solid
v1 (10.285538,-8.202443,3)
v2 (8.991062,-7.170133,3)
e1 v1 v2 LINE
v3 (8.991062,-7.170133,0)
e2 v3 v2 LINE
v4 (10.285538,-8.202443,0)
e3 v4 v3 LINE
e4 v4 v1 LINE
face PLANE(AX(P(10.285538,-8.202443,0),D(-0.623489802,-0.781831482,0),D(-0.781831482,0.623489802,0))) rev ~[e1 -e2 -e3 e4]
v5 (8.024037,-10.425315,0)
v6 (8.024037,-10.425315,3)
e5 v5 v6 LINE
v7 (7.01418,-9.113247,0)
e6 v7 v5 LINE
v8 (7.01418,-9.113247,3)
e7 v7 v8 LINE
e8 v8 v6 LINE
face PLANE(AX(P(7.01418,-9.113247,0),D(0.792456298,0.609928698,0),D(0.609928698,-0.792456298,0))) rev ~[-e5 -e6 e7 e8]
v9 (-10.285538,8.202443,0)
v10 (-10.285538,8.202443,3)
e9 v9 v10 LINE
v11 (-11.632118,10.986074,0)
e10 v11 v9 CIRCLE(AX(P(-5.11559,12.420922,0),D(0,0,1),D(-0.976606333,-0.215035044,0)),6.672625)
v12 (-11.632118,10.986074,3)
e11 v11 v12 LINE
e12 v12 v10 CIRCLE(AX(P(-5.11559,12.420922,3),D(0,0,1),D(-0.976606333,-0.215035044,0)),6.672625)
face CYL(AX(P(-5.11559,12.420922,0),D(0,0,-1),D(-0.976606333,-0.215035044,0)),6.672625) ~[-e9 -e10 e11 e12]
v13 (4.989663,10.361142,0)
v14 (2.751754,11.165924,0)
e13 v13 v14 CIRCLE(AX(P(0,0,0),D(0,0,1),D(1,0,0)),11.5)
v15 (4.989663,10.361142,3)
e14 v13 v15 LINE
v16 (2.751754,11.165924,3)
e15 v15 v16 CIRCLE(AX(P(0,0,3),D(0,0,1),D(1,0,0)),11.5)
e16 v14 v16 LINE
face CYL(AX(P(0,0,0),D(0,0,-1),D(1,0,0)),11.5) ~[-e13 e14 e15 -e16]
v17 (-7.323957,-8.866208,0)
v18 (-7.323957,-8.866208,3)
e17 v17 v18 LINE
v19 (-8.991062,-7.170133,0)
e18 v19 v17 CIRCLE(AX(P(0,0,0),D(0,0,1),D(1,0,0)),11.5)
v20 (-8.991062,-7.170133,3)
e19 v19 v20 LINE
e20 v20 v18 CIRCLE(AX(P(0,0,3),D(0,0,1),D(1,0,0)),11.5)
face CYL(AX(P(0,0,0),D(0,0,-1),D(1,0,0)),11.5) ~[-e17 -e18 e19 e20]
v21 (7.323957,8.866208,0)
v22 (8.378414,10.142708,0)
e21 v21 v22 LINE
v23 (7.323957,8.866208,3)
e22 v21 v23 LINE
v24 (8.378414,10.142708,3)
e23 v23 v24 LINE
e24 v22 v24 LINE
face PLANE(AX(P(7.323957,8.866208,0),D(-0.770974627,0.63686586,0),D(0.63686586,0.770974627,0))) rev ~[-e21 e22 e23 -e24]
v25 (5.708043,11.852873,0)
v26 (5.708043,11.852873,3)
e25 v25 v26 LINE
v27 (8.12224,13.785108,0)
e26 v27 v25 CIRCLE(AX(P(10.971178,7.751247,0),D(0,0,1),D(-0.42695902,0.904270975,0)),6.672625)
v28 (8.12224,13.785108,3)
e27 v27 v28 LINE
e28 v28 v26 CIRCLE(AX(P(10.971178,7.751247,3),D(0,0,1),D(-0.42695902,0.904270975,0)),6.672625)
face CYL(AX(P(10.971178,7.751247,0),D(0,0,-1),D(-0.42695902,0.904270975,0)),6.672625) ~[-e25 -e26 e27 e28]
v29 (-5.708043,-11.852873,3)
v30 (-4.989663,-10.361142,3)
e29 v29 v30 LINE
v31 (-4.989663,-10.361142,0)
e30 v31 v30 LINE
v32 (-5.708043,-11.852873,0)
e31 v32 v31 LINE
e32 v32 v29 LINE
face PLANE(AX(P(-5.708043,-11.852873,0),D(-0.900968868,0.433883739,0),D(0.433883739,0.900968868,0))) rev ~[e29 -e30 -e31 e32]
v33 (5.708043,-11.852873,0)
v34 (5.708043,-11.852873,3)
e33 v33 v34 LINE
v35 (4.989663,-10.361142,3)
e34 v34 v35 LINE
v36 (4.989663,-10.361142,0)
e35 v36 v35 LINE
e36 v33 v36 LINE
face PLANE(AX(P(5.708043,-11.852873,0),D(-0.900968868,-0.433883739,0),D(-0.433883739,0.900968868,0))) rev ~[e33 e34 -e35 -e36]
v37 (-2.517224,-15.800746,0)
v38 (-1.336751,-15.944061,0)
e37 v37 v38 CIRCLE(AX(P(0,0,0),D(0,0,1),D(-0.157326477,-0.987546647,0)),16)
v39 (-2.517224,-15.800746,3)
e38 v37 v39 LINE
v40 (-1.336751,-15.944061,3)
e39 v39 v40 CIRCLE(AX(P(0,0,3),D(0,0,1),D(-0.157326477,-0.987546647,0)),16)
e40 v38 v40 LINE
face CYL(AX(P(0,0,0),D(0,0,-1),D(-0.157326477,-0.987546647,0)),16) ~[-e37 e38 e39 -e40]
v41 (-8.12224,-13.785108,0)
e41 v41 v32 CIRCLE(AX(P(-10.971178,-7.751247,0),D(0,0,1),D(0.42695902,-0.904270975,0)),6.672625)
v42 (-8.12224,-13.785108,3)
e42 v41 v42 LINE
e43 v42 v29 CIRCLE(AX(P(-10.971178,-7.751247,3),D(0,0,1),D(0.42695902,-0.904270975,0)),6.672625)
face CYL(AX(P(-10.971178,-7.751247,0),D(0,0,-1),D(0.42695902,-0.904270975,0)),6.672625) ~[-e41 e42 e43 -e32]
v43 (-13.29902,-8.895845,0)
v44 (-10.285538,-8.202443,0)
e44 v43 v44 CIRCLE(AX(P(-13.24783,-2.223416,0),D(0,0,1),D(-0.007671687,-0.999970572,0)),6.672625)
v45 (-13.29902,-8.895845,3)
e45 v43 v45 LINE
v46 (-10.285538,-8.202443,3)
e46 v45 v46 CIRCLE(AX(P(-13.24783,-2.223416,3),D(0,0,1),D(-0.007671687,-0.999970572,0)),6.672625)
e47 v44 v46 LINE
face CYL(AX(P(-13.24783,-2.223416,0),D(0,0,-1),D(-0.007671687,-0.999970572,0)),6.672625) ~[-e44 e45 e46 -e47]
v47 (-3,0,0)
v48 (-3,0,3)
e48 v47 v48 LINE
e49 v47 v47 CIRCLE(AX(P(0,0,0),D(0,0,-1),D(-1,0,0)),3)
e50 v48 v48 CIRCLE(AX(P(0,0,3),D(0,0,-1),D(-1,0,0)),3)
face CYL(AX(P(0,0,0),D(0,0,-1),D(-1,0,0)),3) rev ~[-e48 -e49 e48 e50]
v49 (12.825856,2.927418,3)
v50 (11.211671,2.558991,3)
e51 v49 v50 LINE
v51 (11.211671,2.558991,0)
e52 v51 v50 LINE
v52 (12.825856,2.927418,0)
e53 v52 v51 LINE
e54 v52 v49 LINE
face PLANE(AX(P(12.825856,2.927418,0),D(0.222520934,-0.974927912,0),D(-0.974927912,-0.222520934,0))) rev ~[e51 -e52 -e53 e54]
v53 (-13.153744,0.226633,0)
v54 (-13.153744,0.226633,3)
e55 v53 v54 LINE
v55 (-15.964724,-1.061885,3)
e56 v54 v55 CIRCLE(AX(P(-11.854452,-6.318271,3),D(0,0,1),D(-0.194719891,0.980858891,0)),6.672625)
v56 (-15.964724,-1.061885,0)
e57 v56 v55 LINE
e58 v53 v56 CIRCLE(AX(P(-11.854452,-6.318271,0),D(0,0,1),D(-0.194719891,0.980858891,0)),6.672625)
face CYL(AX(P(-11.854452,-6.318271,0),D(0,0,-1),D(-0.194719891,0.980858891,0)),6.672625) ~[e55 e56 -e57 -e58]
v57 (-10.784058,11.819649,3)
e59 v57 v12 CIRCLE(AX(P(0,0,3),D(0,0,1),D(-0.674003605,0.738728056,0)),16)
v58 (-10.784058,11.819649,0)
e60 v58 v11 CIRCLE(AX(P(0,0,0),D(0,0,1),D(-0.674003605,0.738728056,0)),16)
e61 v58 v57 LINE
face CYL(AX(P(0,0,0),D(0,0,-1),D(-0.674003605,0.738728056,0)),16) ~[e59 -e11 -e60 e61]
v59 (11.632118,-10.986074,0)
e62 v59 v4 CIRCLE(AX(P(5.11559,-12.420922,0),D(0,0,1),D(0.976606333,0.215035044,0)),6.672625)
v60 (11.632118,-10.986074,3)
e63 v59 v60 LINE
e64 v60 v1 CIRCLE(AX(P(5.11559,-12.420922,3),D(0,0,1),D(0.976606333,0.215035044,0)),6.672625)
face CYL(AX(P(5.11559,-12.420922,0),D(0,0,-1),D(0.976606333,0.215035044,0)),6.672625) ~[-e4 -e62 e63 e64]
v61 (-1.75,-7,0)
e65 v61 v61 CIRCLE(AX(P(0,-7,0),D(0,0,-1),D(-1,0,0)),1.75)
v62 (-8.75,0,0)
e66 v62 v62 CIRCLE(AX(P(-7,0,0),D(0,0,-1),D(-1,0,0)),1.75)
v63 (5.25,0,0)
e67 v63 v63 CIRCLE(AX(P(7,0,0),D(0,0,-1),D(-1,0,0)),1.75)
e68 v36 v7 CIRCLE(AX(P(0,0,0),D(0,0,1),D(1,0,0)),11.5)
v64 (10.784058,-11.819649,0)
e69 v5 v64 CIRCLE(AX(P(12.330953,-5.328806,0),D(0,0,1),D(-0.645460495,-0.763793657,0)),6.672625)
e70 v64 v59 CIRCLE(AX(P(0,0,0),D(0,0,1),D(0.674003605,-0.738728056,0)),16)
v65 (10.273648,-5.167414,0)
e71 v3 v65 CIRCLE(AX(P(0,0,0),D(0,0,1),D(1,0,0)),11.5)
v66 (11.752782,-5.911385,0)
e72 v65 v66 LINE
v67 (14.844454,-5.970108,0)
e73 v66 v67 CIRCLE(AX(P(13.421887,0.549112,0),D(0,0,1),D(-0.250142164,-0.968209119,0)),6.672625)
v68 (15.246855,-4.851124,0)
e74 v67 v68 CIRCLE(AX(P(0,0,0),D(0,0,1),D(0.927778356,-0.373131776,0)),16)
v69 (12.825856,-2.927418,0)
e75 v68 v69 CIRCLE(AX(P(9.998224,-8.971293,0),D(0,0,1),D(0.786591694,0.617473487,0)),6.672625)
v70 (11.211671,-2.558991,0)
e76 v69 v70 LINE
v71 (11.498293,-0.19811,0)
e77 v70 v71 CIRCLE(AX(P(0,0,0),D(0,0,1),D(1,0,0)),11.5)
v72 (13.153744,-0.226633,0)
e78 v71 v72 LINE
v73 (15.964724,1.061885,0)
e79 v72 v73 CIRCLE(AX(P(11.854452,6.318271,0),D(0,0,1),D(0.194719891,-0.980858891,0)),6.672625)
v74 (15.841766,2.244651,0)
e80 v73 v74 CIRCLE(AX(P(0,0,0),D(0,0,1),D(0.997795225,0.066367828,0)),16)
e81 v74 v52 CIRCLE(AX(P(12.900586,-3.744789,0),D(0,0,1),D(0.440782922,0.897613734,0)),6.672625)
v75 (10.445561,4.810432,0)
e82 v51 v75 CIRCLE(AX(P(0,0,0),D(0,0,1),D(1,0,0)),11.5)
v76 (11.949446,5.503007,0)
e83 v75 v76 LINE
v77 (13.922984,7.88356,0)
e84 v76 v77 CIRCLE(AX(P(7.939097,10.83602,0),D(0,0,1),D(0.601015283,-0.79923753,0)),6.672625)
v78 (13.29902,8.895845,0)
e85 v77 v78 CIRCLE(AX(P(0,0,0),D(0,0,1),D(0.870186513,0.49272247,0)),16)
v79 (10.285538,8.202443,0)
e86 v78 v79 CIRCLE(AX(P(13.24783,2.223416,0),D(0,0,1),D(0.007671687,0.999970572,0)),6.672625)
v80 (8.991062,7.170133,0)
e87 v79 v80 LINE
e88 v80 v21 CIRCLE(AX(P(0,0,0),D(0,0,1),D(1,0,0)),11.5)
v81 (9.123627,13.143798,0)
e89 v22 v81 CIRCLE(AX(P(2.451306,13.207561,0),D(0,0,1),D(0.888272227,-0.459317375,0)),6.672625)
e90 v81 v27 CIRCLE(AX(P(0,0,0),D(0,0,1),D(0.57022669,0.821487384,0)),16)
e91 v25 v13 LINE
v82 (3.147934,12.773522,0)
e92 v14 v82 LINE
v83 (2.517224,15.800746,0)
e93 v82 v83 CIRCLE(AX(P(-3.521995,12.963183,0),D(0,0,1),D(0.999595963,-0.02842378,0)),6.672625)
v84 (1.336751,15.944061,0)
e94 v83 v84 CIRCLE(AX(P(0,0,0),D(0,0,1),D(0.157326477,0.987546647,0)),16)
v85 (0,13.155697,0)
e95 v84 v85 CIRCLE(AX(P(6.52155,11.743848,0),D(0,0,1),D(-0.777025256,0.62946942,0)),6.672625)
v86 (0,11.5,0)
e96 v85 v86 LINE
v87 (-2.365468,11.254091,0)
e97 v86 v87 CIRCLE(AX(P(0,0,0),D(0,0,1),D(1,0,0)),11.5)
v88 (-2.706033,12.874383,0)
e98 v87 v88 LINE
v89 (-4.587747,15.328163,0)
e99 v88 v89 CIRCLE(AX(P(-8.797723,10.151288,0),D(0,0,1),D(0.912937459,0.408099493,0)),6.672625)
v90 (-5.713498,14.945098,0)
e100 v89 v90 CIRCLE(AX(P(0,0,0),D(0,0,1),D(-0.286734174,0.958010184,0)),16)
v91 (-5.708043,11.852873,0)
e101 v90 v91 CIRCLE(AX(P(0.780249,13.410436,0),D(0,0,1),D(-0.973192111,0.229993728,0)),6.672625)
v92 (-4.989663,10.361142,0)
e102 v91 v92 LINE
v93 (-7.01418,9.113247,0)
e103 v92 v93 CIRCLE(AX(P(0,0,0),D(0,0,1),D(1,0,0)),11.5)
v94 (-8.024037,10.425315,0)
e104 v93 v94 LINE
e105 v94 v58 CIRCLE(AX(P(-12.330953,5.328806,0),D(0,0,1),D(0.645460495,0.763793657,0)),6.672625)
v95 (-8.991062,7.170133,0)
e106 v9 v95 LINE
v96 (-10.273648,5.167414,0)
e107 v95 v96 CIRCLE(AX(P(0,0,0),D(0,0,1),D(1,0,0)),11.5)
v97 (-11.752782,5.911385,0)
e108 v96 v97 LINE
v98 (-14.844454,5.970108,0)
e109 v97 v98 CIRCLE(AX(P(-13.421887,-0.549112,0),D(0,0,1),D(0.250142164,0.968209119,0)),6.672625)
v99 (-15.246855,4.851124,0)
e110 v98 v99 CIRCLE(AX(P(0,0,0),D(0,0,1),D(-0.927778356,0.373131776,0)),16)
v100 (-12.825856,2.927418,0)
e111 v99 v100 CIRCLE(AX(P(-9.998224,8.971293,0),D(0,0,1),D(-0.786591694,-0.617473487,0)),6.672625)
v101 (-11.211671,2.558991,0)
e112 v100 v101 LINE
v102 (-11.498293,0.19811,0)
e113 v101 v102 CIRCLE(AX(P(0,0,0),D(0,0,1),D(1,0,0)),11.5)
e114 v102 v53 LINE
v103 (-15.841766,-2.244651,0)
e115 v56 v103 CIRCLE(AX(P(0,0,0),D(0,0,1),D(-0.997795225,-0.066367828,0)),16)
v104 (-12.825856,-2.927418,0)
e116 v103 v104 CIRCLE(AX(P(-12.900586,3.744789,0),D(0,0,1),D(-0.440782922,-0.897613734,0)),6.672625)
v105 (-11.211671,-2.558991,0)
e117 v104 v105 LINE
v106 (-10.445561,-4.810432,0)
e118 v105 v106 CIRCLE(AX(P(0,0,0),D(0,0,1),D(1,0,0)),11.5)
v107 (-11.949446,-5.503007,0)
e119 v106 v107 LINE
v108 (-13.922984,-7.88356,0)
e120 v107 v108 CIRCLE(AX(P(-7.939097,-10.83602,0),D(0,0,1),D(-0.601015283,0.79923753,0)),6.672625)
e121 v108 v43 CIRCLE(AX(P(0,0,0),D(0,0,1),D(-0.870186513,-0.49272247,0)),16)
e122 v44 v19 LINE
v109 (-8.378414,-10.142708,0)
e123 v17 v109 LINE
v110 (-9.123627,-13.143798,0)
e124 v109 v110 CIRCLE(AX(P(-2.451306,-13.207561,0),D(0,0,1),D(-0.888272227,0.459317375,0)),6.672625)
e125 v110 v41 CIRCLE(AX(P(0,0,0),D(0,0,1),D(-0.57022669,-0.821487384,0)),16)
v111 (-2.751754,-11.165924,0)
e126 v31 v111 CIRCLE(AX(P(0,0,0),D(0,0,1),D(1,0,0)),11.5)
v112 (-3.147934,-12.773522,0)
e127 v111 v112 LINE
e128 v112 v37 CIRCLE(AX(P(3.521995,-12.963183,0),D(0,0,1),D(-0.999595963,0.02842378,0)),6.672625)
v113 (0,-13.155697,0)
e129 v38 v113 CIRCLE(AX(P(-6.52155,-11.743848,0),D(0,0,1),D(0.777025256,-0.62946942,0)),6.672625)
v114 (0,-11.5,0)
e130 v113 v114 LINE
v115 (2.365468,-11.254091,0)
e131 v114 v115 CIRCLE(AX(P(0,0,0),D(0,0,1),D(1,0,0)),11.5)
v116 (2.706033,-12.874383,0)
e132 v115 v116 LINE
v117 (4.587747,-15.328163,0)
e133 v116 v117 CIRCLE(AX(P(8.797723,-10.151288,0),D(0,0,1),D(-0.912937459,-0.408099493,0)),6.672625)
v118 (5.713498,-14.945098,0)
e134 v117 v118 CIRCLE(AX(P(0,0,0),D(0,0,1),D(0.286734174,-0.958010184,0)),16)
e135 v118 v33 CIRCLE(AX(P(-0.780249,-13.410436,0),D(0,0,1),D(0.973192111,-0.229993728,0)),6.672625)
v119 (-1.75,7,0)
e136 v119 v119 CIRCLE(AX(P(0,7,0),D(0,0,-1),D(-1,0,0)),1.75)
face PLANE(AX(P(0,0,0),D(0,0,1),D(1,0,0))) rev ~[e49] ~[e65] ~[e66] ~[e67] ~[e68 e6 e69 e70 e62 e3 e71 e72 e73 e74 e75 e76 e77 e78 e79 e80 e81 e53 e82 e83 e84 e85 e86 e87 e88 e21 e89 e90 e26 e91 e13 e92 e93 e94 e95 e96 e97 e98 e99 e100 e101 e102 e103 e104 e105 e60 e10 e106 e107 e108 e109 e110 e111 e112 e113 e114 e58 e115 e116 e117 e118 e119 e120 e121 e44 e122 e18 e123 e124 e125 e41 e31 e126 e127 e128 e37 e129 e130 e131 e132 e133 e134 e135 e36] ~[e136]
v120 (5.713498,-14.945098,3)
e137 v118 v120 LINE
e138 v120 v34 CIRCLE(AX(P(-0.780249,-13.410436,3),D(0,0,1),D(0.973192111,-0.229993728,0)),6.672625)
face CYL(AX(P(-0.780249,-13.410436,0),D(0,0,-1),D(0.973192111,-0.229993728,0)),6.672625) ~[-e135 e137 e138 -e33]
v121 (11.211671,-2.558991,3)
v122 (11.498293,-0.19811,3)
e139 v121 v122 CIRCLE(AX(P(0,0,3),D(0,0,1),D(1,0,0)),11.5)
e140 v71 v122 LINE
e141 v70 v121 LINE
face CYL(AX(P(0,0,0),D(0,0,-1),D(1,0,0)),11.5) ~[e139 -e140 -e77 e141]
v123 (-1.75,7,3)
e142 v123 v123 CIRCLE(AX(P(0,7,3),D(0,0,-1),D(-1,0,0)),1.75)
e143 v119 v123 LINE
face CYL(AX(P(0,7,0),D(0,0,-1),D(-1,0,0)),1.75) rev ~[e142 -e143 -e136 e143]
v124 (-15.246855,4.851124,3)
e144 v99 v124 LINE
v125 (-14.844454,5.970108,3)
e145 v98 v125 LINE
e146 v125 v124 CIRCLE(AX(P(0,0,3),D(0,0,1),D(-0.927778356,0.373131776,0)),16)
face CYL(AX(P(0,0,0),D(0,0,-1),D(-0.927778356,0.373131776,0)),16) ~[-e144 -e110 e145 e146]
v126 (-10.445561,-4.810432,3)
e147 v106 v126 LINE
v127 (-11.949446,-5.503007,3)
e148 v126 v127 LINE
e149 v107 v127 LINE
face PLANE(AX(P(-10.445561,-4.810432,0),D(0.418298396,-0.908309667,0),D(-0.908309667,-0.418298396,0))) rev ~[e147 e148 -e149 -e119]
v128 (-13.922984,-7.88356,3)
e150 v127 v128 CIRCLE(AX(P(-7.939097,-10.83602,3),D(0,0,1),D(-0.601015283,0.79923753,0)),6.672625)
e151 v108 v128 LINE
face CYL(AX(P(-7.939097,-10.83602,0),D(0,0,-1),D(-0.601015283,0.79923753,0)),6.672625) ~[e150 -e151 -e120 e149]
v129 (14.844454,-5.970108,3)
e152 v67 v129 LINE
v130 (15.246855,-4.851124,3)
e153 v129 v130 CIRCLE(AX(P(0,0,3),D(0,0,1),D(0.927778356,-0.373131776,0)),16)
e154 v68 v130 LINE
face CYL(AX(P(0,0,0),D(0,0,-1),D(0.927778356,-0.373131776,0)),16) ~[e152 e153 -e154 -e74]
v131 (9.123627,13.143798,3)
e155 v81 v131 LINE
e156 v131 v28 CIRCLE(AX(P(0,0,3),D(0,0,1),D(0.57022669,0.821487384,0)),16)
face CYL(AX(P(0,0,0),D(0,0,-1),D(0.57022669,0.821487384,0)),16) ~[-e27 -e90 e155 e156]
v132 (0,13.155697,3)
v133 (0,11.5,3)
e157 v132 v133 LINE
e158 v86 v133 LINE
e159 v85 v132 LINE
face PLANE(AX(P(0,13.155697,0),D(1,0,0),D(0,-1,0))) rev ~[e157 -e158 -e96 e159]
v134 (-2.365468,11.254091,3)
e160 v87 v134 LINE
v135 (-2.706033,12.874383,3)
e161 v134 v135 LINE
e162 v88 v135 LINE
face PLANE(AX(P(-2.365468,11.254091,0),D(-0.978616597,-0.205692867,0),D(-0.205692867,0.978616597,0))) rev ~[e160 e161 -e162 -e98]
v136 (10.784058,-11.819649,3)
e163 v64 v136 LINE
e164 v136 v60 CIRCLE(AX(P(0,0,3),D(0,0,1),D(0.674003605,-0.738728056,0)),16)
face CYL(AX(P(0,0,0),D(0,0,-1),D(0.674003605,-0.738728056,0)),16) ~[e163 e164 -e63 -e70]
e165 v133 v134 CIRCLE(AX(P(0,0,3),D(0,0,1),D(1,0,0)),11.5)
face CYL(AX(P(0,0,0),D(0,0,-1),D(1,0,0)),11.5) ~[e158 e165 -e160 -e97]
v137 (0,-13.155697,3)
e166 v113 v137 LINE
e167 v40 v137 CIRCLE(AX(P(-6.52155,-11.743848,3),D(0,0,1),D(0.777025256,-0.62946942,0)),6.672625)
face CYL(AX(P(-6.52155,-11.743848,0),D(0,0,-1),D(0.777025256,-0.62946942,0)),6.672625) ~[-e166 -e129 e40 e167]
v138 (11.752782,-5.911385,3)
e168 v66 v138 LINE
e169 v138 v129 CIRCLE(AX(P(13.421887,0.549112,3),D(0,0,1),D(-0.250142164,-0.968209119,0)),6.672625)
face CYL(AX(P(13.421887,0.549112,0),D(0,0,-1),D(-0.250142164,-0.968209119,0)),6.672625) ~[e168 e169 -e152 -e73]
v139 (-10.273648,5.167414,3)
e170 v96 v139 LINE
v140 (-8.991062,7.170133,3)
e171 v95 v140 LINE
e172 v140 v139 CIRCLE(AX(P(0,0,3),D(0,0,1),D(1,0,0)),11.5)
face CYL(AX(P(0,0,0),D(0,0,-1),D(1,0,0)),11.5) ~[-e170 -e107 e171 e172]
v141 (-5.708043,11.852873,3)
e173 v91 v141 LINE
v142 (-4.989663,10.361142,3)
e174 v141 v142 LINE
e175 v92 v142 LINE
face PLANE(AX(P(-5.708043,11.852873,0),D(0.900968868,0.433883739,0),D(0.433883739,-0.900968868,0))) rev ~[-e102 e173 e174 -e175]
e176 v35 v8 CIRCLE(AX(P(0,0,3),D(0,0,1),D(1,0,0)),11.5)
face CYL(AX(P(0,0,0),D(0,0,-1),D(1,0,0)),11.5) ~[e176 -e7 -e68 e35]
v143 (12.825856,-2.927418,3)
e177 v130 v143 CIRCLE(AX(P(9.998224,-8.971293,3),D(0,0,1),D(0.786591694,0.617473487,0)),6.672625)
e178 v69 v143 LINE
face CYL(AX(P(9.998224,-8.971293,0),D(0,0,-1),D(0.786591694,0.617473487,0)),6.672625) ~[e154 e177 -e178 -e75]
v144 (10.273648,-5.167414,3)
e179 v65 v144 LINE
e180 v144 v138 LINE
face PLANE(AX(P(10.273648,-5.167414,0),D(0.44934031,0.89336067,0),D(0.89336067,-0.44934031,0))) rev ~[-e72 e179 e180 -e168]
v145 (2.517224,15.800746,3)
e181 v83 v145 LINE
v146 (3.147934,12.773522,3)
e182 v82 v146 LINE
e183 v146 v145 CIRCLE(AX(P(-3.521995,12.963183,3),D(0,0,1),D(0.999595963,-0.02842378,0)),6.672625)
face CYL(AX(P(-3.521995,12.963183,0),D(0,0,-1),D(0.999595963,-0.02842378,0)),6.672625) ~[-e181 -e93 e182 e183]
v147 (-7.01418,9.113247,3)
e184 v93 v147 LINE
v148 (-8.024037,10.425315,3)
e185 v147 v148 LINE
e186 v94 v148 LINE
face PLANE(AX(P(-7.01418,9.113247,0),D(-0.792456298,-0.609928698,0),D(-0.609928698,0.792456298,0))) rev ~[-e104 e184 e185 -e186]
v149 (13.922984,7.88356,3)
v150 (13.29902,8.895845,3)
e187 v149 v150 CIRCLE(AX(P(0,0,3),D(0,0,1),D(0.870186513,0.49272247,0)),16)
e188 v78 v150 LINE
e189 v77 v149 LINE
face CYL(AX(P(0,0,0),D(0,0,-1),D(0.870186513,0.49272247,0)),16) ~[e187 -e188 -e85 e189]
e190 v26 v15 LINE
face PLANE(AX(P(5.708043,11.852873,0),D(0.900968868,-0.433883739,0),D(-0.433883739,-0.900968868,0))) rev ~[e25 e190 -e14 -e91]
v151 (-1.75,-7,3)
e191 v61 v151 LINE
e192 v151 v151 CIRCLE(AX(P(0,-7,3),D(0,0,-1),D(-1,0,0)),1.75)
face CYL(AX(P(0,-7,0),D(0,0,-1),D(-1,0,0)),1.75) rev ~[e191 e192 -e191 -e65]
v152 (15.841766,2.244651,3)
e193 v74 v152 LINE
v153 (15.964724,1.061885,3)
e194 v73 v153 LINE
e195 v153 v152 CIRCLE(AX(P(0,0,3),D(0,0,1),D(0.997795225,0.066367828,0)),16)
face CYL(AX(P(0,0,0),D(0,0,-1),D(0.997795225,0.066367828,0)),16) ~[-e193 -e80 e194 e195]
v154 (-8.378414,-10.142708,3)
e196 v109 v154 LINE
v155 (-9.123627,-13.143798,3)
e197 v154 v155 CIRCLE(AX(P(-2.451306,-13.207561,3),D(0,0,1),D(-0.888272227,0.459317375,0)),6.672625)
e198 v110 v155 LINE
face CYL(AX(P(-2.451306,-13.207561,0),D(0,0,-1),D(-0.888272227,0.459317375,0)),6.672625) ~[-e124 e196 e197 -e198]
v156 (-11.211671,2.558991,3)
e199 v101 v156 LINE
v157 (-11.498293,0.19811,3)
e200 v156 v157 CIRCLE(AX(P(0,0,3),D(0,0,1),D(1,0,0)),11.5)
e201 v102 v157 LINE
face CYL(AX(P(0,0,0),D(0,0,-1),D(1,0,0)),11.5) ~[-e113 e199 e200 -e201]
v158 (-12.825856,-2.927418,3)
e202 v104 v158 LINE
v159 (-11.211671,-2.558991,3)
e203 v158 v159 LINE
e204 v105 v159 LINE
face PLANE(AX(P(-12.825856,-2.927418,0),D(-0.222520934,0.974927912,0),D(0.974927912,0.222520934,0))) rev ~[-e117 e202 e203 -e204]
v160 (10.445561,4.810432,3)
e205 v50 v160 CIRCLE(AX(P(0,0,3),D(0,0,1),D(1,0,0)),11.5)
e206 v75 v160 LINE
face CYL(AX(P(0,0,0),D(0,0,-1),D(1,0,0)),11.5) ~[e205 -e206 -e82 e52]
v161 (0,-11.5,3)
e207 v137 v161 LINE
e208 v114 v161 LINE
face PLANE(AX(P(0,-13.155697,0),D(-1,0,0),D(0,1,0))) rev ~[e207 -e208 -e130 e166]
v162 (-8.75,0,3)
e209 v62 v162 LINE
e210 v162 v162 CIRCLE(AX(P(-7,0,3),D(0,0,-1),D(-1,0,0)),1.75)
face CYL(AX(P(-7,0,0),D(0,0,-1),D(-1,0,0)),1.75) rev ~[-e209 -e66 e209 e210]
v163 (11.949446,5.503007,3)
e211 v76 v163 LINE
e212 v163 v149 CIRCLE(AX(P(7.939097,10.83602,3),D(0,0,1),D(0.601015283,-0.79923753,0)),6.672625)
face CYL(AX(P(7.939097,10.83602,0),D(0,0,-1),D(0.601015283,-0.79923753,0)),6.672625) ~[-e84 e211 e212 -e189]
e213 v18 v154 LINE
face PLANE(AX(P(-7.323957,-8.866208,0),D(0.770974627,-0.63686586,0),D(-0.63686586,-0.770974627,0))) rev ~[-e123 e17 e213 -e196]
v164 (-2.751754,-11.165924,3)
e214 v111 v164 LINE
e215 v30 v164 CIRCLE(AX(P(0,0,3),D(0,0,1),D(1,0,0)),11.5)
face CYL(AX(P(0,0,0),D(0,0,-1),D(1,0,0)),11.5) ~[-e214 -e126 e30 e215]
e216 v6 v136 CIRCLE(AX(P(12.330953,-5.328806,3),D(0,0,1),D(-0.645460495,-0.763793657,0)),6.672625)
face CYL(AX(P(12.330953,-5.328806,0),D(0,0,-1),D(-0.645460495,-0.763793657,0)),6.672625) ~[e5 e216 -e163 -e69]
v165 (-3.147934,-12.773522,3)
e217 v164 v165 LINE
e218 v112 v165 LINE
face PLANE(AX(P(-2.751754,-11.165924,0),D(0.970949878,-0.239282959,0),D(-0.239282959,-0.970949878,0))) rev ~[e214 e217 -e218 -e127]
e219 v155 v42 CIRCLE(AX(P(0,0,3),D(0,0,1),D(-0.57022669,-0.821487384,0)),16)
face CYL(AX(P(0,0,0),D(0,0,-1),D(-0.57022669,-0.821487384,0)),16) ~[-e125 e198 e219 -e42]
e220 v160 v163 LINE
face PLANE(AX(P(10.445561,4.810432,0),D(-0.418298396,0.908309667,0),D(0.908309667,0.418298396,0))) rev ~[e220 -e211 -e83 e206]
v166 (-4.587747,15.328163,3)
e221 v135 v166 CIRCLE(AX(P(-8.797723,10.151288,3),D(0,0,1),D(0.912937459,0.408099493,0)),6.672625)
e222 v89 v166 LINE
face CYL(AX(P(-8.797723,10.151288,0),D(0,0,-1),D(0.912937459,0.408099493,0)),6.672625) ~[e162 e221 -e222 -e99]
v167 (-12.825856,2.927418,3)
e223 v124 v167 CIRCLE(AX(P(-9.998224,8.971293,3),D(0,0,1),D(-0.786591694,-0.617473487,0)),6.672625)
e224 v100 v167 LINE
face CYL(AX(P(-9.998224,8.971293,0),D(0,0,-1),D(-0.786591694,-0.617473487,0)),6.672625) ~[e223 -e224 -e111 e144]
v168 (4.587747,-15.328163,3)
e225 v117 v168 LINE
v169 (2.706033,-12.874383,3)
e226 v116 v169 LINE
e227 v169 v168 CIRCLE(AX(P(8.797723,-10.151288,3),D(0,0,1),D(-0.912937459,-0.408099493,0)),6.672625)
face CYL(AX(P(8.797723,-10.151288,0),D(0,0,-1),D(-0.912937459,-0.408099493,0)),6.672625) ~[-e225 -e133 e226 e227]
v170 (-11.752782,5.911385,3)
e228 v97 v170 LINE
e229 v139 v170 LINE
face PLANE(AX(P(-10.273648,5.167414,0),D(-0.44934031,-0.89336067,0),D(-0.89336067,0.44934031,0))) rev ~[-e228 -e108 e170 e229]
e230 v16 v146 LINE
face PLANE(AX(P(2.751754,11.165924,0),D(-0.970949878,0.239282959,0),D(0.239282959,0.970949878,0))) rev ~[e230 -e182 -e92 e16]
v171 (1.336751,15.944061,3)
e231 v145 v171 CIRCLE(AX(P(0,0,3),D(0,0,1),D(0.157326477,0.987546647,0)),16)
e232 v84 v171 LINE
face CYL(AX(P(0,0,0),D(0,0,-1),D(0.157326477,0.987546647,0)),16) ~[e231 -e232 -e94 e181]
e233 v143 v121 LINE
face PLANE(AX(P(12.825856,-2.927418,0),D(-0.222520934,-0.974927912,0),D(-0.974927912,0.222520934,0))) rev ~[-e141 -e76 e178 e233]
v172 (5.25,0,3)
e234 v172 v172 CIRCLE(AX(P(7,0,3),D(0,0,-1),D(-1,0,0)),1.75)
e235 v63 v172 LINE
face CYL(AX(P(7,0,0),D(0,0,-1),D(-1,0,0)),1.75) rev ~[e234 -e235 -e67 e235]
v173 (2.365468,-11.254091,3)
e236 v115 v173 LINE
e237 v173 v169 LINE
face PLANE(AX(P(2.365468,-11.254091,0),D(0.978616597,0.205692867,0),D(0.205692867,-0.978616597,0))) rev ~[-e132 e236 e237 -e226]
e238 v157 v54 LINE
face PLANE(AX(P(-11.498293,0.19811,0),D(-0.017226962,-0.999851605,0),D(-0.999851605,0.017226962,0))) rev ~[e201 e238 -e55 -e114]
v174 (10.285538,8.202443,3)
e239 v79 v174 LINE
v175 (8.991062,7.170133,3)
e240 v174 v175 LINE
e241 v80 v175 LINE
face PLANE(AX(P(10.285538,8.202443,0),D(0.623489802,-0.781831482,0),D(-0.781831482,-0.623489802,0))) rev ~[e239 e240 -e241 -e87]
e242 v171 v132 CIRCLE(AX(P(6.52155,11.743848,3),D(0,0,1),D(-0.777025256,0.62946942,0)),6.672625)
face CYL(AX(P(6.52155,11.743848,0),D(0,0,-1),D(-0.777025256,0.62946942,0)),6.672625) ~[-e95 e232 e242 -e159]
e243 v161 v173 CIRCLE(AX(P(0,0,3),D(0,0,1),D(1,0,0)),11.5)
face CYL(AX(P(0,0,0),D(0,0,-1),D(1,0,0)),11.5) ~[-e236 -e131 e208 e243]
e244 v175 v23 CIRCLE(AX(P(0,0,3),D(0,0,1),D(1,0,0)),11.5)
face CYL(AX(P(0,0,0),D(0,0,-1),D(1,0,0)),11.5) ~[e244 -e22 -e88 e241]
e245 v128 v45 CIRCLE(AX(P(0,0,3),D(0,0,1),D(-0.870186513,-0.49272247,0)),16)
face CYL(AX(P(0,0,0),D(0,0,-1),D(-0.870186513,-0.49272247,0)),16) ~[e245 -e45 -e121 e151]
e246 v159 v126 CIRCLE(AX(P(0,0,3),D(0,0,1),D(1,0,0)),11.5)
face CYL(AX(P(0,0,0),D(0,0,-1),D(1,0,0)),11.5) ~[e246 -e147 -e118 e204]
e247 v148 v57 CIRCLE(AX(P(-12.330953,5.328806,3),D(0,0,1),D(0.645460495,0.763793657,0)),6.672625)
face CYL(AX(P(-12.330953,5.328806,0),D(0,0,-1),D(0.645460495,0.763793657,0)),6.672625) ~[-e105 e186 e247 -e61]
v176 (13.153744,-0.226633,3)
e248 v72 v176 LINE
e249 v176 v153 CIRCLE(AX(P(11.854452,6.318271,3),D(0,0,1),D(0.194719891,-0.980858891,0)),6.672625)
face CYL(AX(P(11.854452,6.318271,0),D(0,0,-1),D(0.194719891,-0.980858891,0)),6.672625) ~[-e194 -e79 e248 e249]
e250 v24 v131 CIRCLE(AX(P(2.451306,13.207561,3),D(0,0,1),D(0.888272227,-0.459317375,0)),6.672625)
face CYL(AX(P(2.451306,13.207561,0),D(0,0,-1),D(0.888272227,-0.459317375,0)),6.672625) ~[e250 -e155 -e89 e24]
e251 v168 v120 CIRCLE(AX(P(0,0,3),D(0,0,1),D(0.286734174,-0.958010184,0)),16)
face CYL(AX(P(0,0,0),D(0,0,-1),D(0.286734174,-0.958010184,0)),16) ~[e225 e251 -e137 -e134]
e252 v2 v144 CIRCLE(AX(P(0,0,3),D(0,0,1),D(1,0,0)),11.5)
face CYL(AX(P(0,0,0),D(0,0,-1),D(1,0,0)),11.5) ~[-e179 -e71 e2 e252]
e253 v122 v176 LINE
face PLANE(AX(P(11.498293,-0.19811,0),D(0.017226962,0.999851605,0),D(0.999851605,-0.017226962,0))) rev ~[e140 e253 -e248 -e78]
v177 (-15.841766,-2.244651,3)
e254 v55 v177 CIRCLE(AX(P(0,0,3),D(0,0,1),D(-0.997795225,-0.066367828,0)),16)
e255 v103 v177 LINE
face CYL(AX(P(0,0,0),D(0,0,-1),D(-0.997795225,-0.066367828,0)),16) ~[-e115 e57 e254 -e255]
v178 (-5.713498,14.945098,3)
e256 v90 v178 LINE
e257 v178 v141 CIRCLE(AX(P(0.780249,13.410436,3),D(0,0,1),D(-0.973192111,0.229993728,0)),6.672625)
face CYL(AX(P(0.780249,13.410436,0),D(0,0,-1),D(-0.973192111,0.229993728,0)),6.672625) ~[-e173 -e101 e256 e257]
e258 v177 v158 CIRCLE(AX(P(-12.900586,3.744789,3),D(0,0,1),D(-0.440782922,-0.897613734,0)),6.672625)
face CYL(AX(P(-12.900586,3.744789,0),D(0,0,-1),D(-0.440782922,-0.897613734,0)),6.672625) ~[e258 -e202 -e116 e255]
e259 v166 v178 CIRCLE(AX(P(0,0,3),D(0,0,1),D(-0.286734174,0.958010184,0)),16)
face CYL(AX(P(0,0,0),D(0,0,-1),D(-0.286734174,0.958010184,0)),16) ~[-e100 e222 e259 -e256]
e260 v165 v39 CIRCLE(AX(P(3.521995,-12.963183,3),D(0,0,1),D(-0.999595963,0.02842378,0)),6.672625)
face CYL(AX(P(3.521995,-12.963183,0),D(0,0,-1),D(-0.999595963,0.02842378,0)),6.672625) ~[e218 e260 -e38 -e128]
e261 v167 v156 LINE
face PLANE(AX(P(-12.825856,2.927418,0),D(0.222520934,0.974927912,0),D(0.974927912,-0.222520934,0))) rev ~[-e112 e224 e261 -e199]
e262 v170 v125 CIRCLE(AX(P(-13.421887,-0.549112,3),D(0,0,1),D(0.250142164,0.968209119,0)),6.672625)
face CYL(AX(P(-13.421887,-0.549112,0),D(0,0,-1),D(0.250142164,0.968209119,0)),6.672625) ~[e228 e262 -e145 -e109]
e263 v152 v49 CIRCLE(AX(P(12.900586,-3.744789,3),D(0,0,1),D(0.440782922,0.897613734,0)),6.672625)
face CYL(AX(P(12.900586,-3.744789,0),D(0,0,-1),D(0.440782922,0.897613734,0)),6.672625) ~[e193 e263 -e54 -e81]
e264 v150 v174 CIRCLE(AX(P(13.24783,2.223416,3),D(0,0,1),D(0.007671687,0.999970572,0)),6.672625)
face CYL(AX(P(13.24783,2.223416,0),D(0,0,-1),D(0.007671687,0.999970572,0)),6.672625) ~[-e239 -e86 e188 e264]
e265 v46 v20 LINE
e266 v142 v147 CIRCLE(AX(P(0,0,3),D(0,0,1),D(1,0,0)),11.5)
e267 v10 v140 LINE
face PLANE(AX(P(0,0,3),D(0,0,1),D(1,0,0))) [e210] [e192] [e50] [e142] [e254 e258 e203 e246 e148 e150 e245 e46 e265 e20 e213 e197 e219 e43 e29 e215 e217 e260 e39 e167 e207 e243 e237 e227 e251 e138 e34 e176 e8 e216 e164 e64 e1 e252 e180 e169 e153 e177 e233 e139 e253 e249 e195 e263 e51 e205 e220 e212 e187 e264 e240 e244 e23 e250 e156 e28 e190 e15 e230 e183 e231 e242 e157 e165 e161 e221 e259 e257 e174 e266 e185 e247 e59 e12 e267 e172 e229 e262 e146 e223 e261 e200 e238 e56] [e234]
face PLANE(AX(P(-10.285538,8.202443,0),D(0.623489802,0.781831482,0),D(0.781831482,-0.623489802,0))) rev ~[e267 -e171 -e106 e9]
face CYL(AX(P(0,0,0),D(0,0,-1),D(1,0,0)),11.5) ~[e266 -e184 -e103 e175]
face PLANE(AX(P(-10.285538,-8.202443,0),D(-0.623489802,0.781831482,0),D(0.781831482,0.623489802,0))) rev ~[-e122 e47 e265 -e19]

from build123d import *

# Parameters (mm, degrees)
BOSS_EXTRU_1_DEPTH           = 3
R_P_TITION_CIRCULAIRE2_COUNT = 14
ESQUISSE5_R                  = 11.5
BOSS_EXTRU_2_DEPTH           = 3
ESQUISSE6_R                  = 3
ESQUISSE6_R_2                = 1.75
ENL_V_MAT_EXTRU_1_DEPTH      = 4


with BuildPart() as part:
    # Esquisse4 → Boss.-Extru.1 (new body)
    with BuildSketch(Plane.XY):
        with BuildLine():
            Line((0, 13.155696691), (0, 11.5))
            ThreePointArc((0, 11.5), (1.385979557, 11.416175396), (2.751754038, 11.165923594))
            Line((2.751754038, 11.165923594), (3.147934042, 12.773522094))
            ThreePointArc((3.147934042, 12.773522094), (3.010357566, 14.324173734), (2.517223611, 15.800746352))
            ThreePointArc((2.517223611, 15.800746352), (1.928319383, 15.883374464), (1.336751397, 15.944061456))
            ThreePointArc((1.336751397, 15.944061456), (0.504624377, 14.628382005), (0, 13.155696691))
        make_face()
    extrude(amount=BOSS_EXTRU_1_DEPTH)


with BuildPart() as r_p_tition_circulaire2_1:
    # Répétition circulaire2: pattern copy
    add(part.part.rotate(Axis((0, 0, 0), (0, 0, 1)), 1 * 360 / R_P_TITION_CIRCULAIRE2_COUNT))


with BuildPart() as r_p_tition_circulaire2_2:
    # Répétition circulaire2: pattern copy
    add(part.part.rotate(Axis((0, 0, 0), (0, 0, 1)), 2 * 360 / R_P_TITION_CIRCULAIRE2_COUNT))


with BuildPart() as r_p_tition_circulaire2_3:
    # Répétition circulaire2: pattern copy
    add(part.part.rotate(Axis((0, 0, 0), (0, 0, 1)), 3 * 360 / R_P_TITION_CIRCULAIRE2_COUNT))


with BuildPart() as r_p_tition_circulaire2_4:
    # Répétition circulaire2: pattern copy
    add(part.part.rotate(Axis((0, 0, 0), (0, 0, 1)), 4 * 360 / R_P_TITION_CIRCULAIRE2_COUNT))


with BuildPart() as r_p_tition_circulaire2_5:
    # Répétition circulaire2: pattern copy
    add(part.part.rotate(Axis((0, 0, 0), (0, 0, 1)), 5 * 360 / R_P_TITION_CIRCULAIRE2_COUNT))


with BuildPart() as r_p_tition_circulaire2_6:
    # Répétition circulaire2: pattern copy
    add(part.part.rotate(Axis((0, 0, 0), (0, 0, 1)), 6 * 360 / R_P_TITION_CIRCULAIRE2_COUNT))


with BuildPart() as r_p_tition_circulaire2_7:
    # Répétition circulaire2: pattern copy
    add(part.part.rotate(Axis((0, 0, 0), (0, 0, 1)), 7 * 360 / R_P_TITION_CIRCULAIRE2_COUNT))


with BuildPart() as r_p_tition_circulaire2_8:
    # Répétition circulaire2: pattern copy
    add(part.part.rotate(Axis((0, 0, 0), (0, 0, 1)), 8 * 360 / R_P_TITION_CIRCULAIRE2_COUNT))


with BuildPart() as r_p_tition_circulaire2_9:
    # Répétition circulaire2: pattern copy
    add(part.part.rotate(Axis((0, 0, 0), (0, 0, 1)), 9 * 360 / R_P_TITION_CIRCULAIRE2_COUNT))


with BuildPart() as r_p_tition_circulaire2_10:
    # Répétition circulaire2: pattern copy
    add(part.part.rotate(Axis((0, 0, 0), (0, 0, 1)), 10 * 360 / R_P_TITION_CIRCULAIRE2_COUNT))


with BuildPart() as r_p_tition_circulaire2_11:
    # Répétition circulaire2: pattern copy
    add(part.part.rotate(Axis((0, 0, 0), (0, 0, 1)), 11 * 360 / R_P_TITION_CIRCULAIRE2_COUNT))


with BuildPart() as r_p_tition_circulaire2_12:
    # Répétition circulaire2: pattern copy
    add(part.part.rotate(Axis((0, 0, 0), (0, 0, 1)), 12 * 360 / R_P_TITION_CIRCULAIRE2_COUNT))


with BuildPart() as r_p_tition_circulaire2_13:
    # Répétition circulaire2: pattern copy
    add(part.part.rotate(Axis((0, 0, 0), (0, 0, 1)), 13 * 360 / R_P_TITION_CIRCULAIRE2_COUNT))


with BuildPart() as part_1:
    add(part.part)

    add(r_p_tition_circulaire2_1.part)  # Boss.-Extru.2 merges Répétition circulaire2_1

    add(r_p_tition_circulaire2_2.part)  # Boss.-Extru.2 merges Répétition circulaire2_2

    add(r_p_tition_circulaire2_3.part)  # Boss.-Extru.2 merges Répétition circulaire2_3

    add(r_p_tition_circulaire2_4.part)  # Boss.-Extru.2 merges Répétition circulaire2_4

    add(r_p_tition_circulaire2_5.part)  # Boss.-Extru.2 merges Répétition circulaire2_5

    add(r_p_tition_circulaire2_6.part)  # Boss.-Extru.2 merges Répétition circulaire2_6

    add(r_p_tition_circulaire2_7.part)  # Boss.-Extru.2 merges Répétition circulaire2_7

    add(r_p_tition_circulaire2_8.part)  # Boss.-Extru.2 merges Répétition circulaire2_8

    add(r_p_tition_circulaire2_9.part)  # Boss.-Extru.2 merges Répétition circulaire2_9

    add(r_p_tition_circulaire2_10.part)  # Boss.-Extru.2 merges Répétition circulaire2_10

    add(r_p_tition_circulaire2_11.part)  # Boss.-Extru.2 merges Répétition circulaire2_11

    add(r_p_tition_circulaire2_12.part)  # Boss.-Extru.2 merges Répétition circulaire2_12

    add(r_p_tition_circulaire2_13.part)  # Boss.-Extru.2 merges Répétition circulaire2_13
    # Esquisse5 → Boss.-Extru.2 (add)
    with BuildSketch(Plane.XY):
        Circle(ESQUISSE5_R)
    extrude(amount=BOSS_EXTRU_2_DEPTH)

    # Esquisse6 → Enlèv. mat.-Extru.1 (cut, through all)
    with BuildSketch(Plane(origin=(0, 0, 0), x_dir=(-1, 0, 0), z_dir=(0, 0, -1))):
        Circle(ESQUISSE6_R)
        with Locations((0, 7)):
            Circle(ESQUISSE6_R_2)
        with Locations((7, 0)):
            Circle(ESQUISSE6_R_2)
        with Locations((0, -7)):
            Circle(ESQUISSE6_R_2)
        with Locations((-7, 0)):
            Circle(ESQUISSE6_R_2)
    extrude(amount=-ENL_V_MAT_EXTRU_1_DEPTH, mode=Mode.SUBTRACT)


solid = part_1.part
